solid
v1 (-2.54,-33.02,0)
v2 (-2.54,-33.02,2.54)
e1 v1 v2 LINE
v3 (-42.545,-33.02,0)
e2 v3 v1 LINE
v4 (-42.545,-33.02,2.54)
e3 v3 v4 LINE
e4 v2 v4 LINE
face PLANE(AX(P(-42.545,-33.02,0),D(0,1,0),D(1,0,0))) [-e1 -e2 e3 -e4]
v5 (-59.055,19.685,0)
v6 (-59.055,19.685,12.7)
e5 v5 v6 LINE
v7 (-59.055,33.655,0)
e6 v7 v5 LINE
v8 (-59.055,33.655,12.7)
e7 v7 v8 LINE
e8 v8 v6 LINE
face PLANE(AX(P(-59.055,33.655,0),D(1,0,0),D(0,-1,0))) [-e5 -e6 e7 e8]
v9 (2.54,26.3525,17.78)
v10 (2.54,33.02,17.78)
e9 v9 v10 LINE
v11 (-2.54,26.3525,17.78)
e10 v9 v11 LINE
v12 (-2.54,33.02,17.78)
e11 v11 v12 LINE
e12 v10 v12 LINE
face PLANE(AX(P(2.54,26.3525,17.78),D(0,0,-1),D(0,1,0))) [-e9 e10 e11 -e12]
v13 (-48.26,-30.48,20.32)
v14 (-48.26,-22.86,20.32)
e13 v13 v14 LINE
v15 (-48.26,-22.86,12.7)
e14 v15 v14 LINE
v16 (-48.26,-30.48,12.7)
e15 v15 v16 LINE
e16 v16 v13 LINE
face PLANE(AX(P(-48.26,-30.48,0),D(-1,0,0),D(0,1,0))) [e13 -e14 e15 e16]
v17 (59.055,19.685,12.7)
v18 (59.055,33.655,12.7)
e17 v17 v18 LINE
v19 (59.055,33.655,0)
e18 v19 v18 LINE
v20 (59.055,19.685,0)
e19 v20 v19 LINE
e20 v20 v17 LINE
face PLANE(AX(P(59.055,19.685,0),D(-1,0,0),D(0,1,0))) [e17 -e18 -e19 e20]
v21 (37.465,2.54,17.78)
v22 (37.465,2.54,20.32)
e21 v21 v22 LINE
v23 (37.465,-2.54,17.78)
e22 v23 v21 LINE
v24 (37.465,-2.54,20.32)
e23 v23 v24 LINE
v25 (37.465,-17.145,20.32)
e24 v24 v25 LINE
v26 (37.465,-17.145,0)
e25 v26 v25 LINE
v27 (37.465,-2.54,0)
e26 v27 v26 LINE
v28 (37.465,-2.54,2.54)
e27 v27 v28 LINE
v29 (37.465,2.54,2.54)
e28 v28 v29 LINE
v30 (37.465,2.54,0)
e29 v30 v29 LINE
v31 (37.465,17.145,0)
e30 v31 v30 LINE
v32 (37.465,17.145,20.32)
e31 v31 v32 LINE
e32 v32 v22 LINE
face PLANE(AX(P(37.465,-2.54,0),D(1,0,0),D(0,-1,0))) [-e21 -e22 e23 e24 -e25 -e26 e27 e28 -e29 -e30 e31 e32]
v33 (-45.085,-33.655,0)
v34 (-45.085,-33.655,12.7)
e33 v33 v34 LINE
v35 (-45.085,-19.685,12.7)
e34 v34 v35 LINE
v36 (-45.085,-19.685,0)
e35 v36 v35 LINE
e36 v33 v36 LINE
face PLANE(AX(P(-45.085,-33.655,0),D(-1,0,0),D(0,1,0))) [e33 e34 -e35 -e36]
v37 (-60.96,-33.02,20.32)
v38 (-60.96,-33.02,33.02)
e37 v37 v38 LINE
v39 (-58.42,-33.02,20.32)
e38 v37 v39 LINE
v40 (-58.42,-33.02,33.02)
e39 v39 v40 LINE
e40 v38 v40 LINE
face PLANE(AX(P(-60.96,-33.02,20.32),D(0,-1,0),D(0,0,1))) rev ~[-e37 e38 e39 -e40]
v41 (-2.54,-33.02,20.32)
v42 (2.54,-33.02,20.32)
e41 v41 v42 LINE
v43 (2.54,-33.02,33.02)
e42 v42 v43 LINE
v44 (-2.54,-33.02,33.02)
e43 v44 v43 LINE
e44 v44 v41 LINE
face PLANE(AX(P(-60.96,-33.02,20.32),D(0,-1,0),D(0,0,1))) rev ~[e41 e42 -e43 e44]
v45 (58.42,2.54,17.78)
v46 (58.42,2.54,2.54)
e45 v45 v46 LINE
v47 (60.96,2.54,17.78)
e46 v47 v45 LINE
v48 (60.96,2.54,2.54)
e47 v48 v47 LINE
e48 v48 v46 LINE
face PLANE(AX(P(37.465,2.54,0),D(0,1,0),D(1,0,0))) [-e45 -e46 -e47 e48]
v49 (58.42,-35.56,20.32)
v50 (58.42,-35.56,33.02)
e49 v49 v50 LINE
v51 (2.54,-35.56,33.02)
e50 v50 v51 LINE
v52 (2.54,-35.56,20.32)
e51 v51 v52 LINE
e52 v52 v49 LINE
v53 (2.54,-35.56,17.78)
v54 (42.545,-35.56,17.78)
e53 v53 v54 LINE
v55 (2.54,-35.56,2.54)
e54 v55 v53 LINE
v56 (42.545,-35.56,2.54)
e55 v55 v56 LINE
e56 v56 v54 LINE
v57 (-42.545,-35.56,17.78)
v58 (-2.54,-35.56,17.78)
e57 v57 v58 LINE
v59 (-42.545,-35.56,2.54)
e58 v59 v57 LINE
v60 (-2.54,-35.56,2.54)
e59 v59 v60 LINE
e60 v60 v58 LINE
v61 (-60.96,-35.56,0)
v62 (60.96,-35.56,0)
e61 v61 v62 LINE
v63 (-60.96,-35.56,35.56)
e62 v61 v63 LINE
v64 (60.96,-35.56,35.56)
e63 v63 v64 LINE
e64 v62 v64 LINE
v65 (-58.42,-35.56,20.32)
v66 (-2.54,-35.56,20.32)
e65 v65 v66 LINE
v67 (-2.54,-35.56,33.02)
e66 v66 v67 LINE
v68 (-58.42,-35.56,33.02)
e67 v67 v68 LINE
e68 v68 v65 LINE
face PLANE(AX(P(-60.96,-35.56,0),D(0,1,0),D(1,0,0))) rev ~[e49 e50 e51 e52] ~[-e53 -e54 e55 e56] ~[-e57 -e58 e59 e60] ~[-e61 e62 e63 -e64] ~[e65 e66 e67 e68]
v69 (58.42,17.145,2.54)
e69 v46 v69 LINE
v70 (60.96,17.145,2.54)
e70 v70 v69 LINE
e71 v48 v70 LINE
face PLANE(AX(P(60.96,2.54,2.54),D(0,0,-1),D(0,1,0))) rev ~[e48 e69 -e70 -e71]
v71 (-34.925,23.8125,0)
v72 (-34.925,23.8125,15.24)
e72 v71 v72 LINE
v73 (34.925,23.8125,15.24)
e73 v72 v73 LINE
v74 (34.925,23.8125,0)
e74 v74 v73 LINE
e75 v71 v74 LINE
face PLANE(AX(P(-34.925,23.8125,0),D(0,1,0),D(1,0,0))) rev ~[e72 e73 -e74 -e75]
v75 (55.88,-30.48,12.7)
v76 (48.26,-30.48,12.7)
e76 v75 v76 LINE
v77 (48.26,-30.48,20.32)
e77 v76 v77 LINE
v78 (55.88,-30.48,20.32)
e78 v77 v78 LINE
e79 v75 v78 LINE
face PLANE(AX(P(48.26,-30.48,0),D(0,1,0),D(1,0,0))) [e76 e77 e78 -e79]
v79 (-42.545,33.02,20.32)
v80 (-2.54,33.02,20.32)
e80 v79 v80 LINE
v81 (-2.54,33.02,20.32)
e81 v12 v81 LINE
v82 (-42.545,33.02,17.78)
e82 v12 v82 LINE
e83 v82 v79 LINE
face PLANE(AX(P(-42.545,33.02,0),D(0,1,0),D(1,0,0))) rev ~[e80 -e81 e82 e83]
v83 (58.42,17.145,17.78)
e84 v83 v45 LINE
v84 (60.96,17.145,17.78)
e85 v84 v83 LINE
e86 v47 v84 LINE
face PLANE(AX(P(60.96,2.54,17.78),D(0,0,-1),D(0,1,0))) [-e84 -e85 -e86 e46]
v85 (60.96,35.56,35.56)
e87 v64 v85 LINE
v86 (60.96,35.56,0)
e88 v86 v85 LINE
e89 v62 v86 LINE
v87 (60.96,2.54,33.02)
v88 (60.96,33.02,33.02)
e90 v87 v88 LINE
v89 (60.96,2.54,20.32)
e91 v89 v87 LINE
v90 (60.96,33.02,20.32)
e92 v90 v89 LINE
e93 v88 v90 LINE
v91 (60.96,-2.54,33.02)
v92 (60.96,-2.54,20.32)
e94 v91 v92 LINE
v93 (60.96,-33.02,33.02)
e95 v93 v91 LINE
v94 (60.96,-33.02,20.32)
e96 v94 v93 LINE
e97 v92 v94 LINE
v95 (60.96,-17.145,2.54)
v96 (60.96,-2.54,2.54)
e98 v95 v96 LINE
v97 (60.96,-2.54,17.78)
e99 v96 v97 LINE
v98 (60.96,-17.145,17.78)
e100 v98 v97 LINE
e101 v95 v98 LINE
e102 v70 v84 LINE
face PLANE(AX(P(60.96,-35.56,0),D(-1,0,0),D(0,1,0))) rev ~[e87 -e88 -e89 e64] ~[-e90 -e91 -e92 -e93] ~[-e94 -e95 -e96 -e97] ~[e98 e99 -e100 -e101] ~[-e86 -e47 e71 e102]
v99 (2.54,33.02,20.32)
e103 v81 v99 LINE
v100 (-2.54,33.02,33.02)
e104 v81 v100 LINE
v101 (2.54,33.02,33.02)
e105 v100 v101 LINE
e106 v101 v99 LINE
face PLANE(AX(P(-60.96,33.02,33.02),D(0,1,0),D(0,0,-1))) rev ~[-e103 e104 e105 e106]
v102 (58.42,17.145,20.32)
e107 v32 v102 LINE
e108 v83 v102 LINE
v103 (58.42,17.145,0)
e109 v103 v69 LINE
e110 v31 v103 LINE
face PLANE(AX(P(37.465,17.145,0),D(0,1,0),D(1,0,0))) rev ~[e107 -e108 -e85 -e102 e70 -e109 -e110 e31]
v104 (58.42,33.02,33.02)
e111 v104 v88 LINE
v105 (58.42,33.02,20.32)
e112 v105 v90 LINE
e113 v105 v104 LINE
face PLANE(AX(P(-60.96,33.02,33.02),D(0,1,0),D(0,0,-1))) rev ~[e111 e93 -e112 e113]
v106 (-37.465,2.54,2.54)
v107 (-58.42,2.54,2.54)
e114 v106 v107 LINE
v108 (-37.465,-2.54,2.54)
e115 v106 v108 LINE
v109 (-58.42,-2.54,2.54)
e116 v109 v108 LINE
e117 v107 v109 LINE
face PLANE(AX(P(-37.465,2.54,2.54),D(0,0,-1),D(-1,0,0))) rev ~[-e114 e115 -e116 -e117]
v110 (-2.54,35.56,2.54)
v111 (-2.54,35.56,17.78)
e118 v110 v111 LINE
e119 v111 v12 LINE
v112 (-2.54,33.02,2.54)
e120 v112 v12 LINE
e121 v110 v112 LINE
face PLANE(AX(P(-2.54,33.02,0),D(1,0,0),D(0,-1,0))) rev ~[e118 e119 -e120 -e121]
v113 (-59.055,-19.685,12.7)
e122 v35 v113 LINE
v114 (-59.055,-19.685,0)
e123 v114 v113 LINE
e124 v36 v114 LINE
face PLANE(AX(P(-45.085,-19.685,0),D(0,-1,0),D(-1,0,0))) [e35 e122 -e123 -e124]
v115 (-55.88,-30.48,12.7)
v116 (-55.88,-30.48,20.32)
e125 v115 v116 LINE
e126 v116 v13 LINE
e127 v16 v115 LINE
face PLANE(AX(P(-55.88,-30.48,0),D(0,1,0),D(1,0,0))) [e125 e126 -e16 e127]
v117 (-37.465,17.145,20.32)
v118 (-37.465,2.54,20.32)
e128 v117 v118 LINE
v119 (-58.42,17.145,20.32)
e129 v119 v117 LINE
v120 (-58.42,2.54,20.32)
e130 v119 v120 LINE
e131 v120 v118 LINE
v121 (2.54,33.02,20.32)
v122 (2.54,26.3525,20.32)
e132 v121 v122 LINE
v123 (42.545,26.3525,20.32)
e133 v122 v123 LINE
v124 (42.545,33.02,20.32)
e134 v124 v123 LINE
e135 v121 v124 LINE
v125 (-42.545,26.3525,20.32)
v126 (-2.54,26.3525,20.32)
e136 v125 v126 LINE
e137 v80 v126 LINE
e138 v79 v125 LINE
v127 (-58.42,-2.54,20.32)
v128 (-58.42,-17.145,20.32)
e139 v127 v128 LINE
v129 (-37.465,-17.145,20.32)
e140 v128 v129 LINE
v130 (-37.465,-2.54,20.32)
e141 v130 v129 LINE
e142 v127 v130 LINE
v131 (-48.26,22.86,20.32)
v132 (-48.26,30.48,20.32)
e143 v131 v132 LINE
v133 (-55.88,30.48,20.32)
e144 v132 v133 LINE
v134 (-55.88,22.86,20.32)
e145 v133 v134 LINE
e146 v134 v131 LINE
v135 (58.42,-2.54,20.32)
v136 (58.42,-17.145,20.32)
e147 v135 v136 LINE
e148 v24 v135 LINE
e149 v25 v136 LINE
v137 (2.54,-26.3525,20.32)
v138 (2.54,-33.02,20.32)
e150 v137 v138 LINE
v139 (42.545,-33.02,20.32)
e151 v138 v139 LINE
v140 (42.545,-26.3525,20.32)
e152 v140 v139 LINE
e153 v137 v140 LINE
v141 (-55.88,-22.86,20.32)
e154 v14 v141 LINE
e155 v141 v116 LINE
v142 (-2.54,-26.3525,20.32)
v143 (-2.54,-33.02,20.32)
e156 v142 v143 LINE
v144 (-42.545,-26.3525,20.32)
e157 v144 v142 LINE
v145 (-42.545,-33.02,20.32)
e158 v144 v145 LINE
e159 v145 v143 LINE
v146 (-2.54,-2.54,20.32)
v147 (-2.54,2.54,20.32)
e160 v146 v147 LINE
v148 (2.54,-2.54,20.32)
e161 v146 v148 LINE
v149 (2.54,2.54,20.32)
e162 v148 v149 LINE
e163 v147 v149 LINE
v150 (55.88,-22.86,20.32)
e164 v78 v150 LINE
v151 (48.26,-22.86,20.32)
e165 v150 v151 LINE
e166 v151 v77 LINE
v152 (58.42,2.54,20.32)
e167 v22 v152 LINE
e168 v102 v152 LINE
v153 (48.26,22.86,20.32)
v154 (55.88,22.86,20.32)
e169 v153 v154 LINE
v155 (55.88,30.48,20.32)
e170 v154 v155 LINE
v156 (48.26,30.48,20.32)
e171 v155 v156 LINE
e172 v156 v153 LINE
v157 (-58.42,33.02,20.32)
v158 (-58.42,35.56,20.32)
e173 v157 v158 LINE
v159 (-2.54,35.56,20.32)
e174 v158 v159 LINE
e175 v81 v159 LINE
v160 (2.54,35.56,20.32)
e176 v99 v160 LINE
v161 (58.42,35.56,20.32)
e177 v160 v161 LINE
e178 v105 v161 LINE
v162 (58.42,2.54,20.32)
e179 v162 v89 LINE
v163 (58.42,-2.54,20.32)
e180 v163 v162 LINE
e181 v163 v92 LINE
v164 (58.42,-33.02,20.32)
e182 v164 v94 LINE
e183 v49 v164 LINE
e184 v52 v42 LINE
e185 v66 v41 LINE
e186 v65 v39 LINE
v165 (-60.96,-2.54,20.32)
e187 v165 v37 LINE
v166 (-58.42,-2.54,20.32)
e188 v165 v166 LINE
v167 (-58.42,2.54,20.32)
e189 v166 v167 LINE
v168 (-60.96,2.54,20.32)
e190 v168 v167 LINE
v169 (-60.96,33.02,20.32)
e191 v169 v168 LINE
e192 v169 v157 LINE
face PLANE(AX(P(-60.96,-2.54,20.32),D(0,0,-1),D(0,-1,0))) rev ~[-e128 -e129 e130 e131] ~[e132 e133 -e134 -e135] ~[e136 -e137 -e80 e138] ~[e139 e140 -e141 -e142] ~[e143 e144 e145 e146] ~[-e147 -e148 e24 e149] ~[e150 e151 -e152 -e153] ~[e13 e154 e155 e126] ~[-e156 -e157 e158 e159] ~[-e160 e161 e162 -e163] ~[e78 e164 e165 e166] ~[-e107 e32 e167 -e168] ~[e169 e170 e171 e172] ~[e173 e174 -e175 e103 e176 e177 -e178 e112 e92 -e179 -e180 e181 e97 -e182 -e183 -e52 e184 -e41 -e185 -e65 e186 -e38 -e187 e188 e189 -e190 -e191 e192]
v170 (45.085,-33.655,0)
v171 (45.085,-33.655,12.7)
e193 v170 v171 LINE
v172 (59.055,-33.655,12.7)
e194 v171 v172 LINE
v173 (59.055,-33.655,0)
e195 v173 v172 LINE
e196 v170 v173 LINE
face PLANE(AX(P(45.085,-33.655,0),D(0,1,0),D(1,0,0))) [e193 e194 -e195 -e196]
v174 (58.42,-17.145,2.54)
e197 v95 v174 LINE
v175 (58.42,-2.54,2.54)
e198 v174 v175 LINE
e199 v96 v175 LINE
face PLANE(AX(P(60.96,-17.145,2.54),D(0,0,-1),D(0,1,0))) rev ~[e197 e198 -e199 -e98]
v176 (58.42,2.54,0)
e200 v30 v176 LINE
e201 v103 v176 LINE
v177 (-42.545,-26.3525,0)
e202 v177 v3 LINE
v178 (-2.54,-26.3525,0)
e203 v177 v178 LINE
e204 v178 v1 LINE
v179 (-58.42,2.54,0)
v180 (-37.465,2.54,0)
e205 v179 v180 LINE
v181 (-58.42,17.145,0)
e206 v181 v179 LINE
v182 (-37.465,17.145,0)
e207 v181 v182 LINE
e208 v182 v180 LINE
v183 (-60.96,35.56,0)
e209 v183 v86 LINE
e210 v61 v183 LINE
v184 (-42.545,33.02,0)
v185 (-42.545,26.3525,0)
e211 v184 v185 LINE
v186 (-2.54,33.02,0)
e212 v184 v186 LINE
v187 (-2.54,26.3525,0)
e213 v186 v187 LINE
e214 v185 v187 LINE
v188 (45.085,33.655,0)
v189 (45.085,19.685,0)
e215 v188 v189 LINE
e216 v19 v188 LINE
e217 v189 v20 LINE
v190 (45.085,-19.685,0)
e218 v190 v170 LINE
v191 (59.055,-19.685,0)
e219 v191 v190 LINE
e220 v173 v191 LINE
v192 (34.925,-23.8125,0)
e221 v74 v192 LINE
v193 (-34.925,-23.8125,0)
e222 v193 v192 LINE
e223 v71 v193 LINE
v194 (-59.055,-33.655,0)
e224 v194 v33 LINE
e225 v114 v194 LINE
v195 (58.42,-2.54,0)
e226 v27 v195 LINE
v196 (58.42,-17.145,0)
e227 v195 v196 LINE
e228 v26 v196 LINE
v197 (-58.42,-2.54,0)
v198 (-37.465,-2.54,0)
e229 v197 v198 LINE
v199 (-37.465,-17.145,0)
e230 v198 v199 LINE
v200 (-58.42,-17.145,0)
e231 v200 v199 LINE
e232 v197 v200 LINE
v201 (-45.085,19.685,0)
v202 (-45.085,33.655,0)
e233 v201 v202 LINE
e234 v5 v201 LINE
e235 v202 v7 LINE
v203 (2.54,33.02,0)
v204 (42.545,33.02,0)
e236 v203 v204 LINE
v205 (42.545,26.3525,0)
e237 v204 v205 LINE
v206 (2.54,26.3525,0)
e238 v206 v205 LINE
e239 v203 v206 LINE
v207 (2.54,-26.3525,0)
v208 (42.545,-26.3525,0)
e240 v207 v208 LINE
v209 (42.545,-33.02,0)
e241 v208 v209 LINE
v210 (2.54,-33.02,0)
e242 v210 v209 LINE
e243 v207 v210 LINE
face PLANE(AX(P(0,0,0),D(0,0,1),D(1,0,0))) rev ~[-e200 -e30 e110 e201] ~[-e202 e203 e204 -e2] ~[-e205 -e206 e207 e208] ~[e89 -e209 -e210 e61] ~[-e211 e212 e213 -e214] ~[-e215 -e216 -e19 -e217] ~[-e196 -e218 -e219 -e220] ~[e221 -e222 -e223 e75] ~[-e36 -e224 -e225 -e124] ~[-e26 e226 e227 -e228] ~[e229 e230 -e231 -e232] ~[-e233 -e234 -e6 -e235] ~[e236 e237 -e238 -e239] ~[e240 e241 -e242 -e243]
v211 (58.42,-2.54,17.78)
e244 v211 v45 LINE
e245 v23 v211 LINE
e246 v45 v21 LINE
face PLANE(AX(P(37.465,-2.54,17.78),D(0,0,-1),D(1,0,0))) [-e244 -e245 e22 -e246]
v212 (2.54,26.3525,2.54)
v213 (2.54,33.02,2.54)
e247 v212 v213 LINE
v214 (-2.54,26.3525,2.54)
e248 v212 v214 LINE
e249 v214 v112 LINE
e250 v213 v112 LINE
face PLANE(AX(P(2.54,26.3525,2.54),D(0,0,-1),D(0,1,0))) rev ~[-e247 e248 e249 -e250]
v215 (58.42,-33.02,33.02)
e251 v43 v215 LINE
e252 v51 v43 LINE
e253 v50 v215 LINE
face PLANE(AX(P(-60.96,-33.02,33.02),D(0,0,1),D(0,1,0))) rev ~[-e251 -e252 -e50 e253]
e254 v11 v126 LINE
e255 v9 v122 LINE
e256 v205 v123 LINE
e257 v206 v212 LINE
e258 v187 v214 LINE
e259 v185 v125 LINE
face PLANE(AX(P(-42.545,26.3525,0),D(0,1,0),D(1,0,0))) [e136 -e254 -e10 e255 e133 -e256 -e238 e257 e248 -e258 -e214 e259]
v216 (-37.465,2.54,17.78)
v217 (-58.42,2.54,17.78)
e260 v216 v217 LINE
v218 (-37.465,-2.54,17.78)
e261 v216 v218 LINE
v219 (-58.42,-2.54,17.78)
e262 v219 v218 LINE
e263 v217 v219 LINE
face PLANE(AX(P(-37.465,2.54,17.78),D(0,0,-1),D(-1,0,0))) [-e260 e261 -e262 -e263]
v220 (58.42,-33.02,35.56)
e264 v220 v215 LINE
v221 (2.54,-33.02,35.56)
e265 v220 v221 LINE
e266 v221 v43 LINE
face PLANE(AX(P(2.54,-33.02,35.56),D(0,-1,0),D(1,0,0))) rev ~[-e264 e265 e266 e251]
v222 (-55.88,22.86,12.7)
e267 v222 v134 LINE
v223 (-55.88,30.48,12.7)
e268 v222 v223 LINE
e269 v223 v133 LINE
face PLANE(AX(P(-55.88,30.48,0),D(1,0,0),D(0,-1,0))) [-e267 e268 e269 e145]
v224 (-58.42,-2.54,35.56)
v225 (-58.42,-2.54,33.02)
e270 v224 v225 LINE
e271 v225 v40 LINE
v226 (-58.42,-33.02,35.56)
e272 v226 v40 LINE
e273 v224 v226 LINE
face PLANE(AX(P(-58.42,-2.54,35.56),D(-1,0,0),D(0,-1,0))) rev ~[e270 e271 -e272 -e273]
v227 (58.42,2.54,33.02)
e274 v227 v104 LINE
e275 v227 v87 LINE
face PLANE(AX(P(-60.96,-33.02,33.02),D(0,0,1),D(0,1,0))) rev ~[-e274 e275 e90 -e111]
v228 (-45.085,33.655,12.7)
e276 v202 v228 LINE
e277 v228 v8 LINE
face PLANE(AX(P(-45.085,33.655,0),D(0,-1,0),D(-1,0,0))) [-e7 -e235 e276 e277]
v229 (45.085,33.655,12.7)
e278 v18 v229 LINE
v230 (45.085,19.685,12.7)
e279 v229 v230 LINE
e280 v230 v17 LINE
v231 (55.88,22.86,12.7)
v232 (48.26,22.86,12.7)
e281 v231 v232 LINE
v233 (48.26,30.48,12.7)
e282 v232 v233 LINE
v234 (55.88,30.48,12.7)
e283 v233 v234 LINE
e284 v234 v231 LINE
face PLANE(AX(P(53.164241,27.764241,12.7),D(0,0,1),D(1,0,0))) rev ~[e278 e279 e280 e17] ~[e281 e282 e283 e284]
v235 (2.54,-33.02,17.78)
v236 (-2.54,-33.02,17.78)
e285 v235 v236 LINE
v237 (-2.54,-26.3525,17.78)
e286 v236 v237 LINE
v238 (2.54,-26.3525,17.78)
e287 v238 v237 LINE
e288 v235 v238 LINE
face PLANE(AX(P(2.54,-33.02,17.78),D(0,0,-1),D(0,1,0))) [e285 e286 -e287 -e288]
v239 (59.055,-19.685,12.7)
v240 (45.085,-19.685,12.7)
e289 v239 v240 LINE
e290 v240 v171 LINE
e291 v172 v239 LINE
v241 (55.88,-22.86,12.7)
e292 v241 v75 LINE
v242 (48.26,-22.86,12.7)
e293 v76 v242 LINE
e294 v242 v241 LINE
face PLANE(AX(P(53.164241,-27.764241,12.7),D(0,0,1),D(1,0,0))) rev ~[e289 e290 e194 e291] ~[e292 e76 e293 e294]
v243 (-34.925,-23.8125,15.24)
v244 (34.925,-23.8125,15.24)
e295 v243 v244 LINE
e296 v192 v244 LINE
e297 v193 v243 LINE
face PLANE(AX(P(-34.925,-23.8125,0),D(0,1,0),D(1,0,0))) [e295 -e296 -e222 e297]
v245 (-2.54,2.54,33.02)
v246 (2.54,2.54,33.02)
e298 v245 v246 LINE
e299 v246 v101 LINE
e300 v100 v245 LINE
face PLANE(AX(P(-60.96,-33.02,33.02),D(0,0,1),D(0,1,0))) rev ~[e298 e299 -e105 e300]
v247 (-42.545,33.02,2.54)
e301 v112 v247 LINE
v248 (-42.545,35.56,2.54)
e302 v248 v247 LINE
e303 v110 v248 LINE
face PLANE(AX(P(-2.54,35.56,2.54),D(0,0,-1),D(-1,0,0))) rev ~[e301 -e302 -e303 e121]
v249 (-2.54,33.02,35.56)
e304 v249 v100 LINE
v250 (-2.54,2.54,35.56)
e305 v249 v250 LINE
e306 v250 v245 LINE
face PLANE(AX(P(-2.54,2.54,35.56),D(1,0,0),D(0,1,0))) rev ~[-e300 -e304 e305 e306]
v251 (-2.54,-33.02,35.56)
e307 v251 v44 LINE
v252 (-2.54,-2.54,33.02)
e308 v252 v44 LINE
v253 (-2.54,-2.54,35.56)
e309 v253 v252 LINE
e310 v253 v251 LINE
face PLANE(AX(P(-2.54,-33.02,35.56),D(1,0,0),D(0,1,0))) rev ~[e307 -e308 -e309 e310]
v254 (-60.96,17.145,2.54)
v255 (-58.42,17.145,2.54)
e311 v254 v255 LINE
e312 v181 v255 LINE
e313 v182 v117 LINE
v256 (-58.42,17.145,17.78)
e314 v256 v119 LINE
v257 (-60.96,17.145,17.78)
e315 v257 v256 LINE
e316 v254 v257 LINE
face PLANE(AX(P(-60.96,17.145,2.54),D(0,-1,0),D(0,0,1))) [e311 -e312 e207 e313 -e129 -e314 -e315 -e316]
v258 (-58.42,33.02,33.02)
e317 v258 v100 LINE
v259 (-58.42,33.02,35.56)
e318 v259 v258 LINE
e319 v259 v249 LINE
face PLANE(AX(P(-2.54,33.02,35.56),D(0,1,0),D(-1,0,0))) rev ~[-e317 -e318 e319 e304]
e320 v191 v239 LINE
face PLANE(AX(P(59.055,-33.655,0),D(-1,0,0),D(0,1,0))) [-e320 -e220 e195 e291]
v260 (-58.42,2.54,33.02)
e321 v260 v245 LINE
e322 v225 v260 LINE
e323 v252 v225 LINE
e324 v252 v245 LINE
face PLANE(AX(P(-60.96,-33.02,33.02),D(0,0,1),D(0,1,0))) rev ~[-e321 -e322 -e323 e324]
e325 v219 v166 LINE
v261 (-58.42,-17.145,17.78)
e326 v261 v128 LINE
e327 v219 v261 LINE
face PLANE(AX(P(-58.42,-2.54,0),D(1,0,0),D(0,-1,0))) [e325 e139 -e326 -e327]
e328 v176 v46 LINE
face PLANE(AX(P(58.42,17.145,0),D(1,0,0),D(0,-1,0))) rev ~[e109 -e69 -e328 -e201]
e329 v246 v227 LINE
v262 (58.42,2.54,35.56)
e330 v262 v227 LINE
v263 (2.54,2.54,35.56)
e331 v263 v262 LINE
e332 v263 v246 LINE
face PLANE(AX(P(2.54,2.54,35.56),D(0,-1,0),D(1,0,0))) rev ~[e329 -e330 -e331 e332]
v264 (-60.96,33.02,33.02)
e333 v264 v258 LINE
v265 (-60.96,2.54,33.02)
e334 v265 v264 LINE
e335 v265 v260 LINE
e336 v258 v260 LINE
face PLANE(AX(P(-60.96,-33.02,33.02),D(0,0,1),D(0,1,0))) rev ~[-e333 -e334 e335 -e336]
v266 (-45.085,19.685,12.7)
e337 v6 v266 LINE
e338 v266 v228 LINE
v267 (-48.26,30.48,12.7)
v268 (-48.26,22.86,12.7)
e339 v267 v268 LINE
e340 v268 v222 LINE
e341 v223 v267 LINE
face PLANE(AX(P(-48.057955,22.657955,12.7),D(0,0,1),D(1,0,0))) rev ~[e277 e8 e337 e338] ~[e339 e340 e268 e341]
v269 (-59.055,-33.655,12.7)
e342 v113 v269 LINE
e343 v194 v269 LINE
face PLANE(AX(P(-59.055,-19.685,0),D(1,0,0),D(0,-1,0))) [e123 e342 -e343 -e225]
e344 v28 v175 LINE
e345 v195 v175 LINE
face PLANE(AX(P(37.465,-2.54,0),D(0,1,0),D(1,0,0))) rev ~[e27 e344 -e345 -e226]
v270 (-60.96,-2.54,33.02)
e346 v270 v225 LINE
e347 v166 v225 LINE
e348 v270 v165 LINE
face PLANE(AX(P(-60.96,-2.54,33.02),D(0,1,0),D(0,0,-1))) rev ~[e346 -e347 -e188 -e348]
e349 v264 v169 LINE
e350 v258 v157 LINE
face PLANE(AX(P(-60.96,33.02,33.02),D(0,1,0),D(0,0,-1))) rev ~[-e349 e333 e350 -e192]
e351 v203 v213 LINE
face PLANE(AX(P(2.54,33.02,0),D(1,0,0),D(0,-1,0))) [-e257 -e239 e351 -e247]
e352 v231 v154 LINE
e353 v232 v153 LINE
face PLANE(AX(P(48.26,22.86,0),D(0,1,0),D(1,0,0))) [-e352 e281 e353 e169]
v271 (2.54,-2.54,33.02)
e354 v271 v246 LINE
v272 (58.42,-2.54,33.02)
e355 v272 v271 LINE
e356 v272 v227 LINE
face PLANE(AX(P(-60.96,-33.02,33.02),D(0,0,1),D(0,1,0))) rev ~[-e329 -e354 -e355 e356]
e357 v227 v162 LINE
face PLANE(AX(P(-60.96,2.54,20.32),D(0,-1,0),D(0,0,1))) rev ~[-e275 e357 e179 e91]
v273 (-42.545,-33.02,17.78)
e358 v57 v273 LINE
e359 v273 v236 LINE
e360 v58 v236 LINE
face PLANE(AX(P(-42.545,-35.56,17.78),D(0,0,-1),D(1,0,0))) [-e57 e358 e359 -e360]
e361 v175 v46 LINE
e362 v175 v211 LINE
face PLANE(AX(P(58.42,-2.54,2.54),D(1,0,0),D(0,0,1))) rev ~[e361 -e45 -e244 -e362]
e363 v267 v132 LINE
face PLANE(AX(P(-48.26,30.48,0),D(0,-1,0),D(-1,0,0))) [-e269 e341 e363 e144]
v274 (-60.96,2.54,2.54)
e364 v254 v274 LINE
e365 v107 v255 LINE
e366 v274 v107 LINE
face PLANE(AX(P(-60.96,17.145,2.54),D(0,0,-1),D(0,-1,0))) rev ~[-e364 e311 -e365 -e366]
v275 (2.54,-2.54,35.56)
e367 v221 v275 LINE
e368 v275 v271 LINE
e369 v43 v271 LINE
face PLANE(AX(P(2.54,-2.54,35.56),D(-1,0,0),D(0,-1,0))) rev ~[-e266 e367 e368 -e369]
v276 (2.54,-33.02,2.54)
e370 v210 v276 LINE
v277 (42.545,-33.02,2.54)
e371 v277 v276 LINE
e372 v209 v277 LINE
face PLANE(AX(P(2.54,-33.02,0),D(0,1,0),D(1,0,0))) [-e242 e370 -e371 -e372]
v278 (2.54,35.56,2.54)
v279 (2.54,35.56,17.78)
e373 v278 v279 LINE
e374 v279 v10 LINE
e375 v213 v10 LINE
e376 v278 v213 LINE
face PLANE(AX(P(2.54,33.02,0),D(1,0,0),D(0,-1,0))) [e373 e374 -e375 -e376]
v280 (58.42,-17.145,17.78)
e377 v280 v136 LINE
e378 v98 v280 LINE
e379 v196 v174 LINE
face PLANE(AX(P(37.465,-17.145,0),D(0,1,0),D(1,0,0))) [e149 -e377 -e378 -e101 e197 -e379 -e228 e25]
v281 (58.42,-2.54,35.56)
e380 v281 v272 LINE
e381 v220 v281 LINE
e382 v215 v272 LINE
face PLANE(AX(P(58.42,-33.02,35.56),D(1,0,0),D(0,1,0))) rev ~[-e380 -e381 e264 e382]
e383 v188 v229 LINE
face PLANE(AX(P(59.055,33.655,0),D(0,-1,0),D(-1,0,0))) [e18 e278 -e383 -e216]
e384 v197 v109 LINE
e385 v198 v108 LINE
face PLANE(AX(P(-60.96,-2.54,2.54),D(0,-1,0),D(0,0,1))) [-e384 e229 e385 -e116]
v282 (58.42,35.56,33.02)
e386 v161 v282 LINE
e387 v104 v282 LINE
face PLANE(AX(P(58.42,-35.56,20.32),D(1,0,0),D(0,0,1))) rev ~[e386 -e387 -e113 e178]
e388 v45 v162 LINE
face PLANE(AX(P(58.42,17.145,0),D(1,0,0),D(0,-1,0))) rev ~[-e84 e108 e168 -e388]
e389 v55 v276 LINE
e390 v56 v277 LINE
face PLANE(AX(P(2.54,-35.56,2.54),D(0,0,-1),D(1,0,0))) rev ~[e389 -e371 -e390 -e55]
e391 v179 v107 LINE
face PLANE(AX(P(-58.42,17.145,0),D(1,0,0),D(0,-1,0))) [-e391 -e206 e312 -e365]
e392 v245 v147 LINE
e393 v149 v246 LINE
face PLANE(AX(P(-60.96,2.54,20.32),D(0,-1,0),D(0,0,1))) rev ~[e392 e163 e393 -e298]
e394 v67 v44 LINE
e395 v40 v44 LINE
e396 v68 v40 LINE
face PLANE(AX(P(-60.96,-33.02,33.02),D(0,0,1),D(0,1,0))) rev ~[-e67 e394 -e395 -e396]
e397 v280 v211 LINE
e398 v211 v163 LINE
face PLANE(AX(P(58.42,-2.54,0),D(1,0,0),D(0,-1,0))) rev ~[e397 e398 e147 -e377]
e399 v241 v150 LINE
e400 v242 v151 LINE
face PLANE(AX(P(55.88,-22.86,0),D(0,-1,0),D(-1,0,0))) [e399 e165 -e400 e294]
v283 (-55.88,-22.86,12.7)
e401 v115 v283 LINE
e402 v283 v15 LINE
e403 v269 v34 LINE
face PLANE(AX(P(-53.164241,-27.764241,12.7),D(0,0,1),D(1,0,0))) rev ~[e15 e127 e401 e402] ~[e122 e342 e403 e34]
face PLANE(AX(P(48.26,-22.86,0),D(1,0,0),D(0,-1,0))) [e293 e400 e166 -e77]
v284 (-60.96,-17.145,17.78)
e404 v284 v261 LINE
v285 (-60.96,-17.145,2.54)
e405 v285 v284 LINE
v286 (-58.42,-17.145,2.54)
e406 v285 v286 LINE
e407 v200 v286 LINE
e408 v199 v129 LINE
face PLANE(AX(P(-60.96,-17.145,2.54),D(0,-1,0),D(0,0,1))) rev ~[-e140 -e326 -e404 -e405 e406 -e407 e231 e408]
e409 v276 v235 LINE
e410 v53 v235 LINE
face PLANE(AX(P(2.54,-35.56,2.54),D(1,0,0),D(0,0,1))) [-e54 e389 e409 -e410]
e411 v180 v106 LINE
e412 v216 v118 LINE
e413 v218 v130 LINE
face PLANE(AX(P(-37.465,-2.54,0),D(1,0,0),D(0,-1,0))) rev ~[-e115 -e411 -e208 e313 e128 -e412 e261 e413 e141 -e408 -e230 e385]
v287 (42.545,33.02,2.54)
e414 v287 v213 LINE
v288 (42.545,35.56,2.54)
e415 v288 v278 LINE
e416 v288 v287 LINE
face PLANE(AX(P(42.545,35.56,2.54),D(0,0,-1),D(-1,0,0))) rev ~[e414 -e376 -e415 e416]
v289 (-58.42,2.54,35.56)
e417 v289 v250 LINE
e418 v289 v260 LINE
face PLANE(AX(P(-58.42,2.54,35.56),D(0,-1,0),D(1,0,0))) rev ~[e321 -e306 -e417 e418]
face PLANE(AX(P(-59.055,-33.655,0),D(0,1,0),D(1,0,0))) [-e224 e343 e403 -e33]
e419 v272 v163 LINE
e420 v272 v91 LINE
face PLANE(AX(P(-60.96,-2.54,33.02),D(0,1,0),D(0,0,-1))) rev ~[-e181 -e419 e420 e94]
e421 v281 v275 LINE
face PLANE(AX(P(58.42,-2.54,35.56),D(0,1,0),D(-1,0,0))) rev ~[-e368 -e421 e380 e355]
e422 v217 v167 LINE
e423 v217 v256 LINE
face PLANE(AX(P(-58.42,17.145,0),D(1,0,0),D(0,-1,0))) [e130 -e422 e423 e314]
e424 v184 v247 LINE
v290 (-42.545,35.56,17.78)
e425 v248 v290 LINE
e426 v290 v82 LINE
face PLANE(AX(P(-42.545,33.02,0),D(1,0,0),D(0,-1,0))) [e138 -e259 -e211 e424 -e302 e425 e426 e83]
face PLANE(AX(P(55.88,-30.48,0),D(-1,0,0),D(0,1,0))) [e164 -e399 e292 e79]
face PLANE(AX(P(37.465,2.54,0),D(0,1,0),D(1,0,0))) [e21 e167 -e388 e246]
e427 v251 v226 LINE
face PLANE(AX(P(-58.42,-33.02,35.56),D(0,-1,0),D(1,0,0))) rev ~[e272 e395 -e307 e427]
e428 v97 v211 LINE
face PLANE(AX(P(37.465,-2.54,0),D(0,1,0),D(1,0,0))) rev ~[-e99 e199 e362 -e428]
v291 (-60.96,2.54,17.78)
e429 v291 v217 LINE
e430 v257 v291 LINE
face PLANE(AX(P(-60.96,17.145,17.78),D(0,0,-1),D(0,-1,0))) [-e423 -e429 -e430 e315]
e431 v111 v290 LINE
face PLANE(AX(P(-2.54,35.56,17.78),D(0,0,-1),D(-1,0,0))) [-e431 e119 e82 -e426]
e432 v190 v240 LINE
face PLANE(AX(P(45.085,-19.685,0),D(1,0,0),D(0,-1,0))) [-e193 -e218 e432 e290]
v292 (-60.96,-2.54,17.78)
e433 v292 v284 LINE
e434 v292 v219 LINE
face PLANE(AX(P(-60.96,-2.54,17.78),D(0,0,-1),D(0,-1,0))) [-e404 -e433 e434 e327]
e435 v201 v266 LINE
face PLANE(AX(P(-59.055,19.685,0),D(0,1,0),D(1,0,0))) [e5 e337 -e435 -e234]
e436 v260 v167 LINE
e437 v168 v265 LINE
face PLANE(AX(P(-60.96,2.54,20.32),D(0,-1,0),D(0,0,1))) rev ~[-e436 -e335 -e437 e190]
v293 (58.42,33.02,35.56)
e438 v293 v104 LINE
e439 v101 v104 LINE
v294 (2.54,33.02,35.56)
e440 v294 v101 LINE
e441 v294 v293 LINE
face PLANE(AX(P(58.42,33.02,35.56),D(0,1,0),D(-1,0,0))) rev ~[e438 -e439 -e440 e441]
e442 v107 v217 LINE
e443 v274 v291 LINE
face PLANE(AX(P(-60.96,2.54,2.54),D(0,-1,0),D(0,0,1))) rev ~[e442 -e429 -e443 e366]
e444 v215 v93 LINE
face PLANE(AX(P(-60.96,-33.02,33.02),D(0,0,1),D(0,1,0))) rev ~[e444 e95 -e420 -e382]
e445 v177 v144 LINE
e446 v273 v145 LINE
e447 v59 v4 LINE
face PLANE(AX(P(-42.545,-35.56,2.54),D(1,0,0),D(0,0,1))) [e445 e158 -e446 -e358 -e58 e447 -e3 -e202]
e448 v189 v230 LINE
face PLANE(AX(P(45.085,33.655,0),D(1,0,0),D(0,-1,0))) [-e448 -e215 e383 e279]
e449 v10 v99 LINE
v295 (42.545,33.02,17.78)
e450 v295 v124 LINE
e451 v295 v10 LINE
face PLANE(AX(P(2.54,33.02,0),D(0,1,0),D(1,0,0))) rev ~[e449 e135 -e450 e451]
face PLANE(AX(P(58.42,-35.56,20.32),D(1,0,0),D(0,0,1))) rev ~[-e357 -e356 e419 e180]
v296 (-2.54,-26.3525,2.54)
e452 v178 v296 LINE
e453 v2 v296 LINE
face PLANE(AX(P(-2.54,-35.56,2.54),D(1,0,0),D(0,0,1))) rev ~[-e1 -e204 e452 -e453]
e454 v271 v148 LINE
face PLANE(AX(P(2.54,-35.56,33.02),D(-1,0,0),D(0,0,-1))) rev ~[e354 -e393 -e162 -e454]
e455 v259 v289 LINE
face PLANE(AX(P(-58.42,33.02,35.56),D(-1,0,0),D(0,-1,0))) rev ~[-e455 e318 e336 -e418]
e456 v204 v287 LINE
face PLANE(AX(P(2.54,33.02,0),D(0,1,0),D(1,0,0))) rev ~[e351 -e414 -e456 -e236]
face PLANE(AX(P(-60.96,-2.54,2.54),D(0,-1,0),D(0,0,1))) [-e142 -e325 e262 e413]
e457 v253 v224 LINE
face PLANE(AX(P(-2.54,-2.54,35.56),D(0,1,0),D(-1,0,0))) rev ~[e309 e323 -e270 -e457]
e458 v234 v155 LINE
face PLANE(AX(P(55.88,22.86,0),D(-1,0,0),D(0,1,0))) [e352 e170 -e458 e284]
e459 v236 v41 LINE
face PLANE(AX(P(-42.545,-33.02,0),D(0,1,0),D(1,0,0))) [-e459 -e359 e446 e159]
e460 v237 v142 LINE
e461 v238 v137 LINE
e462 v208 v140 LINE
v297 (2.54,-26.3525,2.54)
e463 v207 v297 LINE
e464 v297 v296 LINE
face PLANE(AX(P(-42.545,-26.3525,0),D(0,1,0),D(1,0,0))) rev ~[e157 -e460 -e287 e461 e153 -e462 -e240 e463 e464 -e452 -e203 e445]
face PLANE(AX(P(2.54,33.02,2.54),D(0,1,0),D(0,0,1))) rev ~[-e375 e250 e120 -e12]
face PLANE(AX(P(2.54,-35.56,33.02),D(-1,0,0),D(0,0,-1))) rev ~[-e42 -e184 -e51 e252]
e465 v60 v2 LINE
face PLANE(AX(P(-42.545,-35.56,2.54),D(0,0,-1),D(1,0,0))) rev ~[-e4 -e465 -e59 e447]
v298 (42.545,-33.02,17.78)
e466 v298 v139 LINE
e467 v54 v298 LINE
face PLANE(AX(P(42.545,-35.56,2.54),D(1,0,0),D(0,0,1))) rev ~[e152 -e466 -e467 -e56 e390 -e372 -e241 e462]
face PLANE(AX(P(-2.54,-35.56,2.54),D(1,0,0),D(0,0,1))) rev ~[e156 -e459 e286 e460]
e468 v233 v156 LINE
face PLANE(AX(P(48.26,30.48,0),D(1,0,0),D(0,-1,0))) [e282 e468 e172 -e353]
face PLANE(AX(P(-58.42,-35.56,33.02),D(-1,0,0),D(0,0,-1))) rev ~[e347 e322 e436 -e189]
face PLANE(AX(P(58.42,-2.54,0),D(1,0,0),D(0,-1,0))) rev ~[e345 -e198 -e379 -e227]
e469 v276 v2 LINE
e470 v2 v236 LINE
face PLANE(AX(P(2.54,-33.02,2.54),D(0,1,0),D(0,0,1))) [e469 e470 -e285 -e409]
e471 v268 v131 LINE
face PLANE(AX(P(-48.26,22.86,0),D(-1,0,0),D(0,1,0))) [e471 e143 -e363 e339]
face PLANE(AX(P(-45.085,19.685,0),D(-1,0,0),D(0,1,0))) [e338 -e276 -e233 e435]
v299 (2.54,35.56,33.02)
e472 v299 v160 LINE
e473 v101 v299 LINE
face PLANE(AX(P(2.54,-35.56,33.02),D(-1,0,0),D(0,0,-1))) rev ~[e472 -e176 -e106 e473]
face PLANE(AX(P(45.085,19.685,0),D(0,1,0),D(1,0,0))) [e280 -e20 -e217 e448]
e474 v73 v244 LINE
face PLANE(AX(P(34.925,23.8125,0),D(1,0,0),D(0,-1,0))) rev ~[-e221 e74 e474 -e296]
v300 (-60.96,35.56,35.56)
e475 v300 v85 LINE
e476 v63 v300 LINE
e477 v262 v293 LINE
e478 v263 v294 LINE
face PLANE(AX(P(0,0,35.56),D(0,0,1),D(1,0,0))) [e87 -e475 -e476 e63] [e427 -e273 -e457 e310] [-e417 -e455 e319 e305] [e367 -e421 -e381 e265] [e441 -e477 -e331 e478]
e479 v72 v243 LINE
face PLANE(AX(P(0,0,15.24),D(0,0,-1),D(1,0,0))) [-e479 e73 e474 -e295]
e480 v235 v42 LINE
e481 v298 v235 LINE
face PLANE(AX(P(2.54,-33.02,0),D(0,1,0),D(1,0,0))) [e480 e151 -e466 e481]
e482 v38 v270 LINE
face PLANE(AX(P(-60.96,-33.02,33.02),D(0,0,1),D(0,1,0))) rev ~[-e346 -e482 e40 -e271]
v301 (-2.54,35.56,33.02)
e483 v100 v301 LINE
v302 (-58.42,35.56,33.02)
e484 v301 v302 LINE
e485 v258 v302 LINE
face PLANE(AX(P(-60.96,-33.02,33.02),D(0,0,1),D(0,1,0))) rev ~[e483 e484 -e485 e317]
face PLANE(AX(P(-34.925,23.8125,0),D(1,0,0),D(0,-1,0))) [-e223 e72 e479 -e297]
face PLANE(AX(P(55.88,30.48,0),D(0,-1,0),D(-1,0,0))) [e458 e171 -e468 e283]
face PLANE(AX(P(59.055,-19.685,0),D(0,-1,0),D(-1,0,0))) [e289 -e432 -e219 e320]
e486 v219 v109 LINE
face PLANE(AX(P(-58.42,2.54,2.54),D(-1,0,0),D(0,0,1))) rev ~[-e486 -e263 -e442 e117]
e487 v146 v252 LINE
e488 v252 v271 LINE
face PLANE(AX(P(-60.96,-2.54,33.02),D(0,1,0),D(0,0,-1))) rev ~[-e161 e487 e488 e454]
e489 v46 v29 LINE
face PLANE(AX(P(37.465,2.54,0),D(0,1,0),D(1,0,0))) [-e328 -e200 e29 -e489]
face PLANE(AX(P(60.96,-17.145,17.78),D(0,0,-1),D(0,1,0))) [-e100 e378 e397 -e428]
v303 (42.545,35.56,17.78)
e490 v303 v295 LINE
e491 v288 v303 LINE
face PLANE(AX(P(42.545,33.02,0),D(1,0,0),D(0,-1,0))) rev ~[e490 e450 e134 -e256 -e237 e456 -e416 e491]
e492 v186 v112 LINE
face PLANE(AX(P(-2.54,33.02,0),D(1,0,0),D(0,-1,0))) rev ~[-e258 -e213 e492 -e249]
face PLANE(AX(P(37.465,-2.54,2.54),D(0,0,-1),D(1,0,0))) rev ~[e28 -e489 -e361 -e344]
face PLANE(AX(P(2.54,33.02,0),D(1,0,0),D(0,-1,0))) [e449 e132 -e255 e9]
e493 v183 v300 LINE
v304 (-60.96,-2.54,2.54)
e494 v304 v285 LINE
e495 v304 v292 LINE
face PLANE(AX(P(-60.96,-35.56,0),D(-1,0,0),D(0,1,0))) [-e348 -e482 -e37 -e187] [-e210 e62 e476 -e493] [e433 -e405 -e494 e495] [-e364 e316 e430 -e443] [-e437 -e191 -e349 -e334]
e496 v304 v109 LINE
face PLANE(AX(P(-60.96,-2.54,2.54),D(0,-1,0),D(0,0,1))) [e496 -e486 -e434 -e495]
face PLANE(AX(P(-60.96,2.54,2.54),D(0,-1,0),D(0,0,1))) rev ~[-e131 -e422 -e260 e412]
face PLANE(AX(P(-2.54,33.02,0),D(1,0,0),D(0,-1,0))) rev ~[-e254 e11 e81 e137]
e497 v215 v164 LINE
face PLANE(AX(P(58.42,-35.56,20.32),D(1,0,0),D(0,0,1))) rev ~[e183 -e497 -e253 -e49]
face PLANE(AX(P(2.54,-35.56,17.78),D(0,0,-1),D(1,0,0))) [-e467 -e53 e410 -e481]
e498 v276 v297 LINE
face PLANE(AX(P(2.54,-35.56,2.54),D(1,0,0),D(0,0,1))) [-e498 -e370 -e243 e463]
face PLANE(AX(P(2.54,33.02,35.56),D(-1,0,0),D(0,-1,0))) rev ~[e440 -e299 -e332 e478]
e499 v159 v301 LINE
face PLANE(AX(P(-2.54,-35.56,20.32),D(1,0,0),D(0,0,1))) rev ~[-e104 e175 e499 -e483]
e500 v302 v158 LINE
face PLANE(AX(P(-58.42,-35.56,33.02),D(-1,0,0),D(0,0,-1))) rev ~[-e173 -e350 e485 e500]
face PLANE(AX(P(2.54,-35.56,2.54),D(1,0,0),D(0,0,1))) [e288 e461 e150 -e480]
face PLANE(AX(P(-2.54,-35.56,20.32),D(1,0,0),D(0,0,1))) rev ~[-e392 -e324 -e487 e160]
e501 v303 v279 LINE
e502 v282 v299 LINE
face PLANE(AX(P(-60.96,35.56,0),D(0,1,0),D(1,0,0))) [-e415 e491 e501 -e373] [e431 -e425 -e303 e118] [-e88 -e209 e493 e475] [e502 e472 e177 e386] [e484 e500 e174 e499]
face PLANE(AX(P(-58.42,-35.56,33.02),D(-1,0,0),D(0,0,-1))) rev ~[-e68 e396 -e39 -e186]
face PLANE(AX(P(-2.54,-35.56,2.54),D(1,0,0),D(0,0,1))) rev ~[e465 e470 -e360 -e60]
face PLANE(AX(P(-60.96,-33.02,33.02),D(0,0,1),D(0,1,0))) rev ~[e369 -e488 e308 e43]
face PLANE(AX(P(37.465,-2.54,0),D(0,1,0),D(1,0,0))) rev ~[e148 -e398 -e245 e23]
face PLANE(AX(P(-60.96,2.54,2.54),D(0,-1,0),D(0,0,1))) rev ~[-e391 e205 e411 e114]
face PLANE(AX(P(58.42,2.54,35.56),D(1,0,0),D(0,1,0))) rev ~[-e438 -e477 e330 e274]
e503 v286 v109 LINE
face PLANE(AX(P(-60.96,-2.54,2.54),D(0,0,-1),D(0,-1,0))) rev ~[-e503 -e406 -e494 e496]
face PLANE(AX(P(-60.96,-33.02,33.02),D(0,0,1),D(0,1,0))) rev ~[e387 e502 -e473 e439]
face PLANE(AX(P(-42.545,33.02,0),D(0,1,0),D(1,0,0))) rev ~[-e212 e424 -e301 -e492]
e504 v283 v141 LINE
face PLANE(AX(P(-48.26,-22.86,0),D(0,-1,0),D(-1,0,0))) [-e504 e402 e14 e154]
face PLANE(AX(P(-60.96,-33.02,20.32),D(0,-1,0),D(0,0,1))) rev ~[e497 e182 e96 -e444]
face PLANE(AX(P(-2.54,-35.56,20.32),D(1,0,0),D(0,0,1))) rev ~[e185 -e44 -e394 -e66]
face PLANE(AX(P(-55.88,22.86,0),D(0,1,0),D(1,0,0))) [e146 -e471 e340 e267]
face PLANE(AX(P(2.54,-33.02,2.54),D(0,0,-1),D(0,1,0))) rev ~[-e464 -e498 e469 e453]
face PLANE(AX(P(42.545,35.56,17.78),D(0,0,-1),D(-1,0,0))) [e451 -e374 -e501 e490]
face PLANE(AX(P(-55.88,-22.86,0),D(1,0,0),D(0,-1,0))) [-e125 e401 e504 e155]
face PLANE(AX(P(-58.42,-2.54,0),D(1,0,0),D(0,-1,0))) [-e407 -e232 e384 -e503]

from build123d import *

# Parameters (mm, degrees)
F0_W      = 121.92
F0_H      = 71.12
F1_DEPTH  = 35.56
F2_W      = 3.81
F2_H      = 3.81
F3_DEPTH  = 12.7
F4_W      = 69.85
F4_H      = 47.625
F5_DEPTH  = 15.24
F6_W      = 27.94
F6_H      = 6.35
F7_DEPTH  = 71.12
F8_W      = 15.24
F8_H      = 6.35
F9_DEPTH  = 121.92
F10_W     = 27.94
F10_H     = 15.24
F11_DEPTH = 15.24
F12_DEPTH = 35.561
F13_W     = 40.005
F13_H     = 6.6675
F14_DEPTH = 35.561
F15_W     = 40.005
F15_H     = 15.24
F16_DEPTH = 4.2690588161
F17_W     = 40.005
F17_H     = 15.24
F18_DEPTH = 4.0254006162
F19_W     = 20.955
F19_H     = 14.605
F20_DEPTH = 25.4
F21_W     = 14.605
F21_H     = 15.24
F22_DEPTH = 17.6893454045
F23_W     = 14.605
F23_H     = 15.24
F24_DEPTH = 16.1260850728
F25_W     = 20.955
F25_H     = 15.24
F26_DEPTH = 12.7
F27_W     = 6.6675
F27_H     = 15.24
F28_DEPTH = 25.4
F29_W     = 6.6675
F29_H     = 15.24
F30_DEPTH = 25.4
F31_W     = 20.955
F31_H     = 15.24
F32_DEPTH = 12.7


with BuildPart() as f1:
    # F0 (on Top) → F1 (new body)
    with BuildSketch(Plane.XY):
        Rectangle(F0_W, F0_H)
    extrude(amount=F1_DEPTH)

    # F2 (on Top) → F3 (cut)
    with BuildSketch(Plane.XY):
        Polygon((59.055, -19.685), (52.07, -19.685), (52.07, -22.86), (55.88, -22.86), (55.88, -30.48), (48.26, -30.48), (48.26, -26.67), (45.085, -26.67), (45.085, -33.655), (59.055, -33.655), align=None)
        Polygon((52.07, -22.86), (52.07, -19.685), (45.085, -19.685), (45.085, -26.67), (48.26, -26.67), (48.26, -22.86), align=None)
        with Locations((50.165, -24.765)):
            Rectangle(F2_W, F2_H)
        Polygon((55.88, -22.86), (52.07, -22.86), (52.07, -26.67), (48.26, -26.67), (48.26, -30.48), (55.88, -30.48), align=None)
        Polygon((45.085, 33.655), (45.085, 26.67), (48.26, 26.67), (48.26, 30.48), (55.88, 30.48), (55.88, 22.86), (52.07, 22.86), (52.07, 19.685), (59.055, 19.685), (59.055, 33.655), align=None)
        Polygon((48.26, 26.67), (45.085, 26.67), (45.085, 19.685), (52.07, 19.685), (52.07, 22.86), (48.26, 22.86), align=None)
        Polygon((48.26, 30.48), (48.26, 26.67), (52.07, 26.67), (52.07, 22.86), (55.88, 22.86), (55.88, 30.48), align=None)
        with Locations((50.165, 24.765)):
            Rectangle(F2_W, F2_H)
        Polygon((-45.085, 26.67), (-48.26, 26.67), (-48.26, 22.86), (-52.07, 22.86), (-52.07, 19.685), (-45.085, 19.685), align=None)
        Polygon((-52.07, 22.86), (-52.07, 26.67), (-48.26, 26.67), (-48.26, 30.48), (-55.88, 30.48), (-55.88, 22.86), align=None)
        Polygon((-48.26, 30.48), (-48.26, 26.67), (-45.085, 26.67), (-45.085, 33.655), (-59.055, 33.655), (-59.055, 19.685), (-52.07, 19.685), (-52.07, 22.86), (-55.88, 22.86), (-55.88, 30.48), align=None)
        with Locations((-50.165, 24.765)):
            Rectangle(F2_W, F2_H)
        Polygon((-52.07, -22.86), (-52.07, -19.685), (-59.055, -19.685), (-59.055, -33.655), (-45.085, -33.655), (-45.085, -26.67), (-48.26, -26.67), (-48.26, -30.48), (-55.88, -30.48), (-55.88, -22.86), align=None)
        Polygon((-52.07, -26.67), (-52.07, -22.86), (-55.88, -22.86), (-55.88, -30.48), (-48.26, -30.48), (-48.26, -26.67), align=None)
        with Locations((-50.165, -24.765)):
            Rectangle(F2_W, F2_H)
        Polygon((-45.085, -19.685), (-52.07, -19.685), (-52.07, -22.86), (-48.26, -22.86), (-48.26, -26.67), (-45.085, -26.67), align=None)
    extrude(amount=F3_DEPTH, mode=Mode.SUBTRACT)

    # F4 (on face) → F5 (cut)
    with BuildSketch(Plane(origin=(0, 0, 0), x_dir=(1, 0, 0), z_dir=(0, 0, -1))):
        Rectangle(F4_W, F4_H)
    extrude(amount=-F5_DEPTH, mode=Mode.SUBTRACT)

    # F6 (on face) → F7 (cut, through all)
    with BuildSketch(Plane.XZ.offset(35.56)):
        with Locations((-44.45, 29.845)):
            Rectangle(F6_W, F6_H)
        with Locations((-16.51, 29.845)):
            Rectangle(F6_W, F6_H)
        with Locations((-16.51, 23.495)):
            Rectangle(F6_W, F6_H)
        with Locations((-44.45, 23.495)):
            Rectangle(F6_W, F6_H)
        with Locations((16.51, 29.845)):
            Rectangle(F6_W, F6_H)
        with Locations((16.51, 23.495)):
            Rectangle(F6_W, F6_H)
        with Locations((44.45, 29.845)):
            Rectangle(F6_W, F6_H)
        with Locations((44.45, 23.495)):
            Rectangle(F6_W, F6_H)
    extrude(amount=-F7_DEPTH, mode=Mode.SUBTRACT)

    # F8 (on face) → F9 (cut, through all)
    with BuildSketch(Plane(origin=(-60.96, 0, 0), x_dir=(0, -1, 0), z_dir=(-1, 0, 0))):
        with Locations((-25.4, 29.845)):
            Rectangle(F8_W, F8_H)
        with Locations((-10.16, 29.845)):
            Rectangle(F8_W, F8_H)
        with Locations((-10.16, 23.495)):
            Rectangle(F8_W, F8_H)
        with Locations((-25.4, 23.495)):
            Rectangle(F8_W, F8_H)
        with Locations((10.16, 23.495)):
            Rectangle(F8_W, F8_H)
        with Locations((10.16, 29.845)):
            Rectangle(F8_W, F8_H)
        with Locations((25.4, 29.845)):
            Rectangle(F8_W, F8_H)
        with Locations((25.4, 23.495)):
            Rectangle(F8_W, F8_H)
    extrude(amount=-F9_DEPTH, mode=Mode.SUBTRACT)

    # F10 (on face) → F11 (cut, through all)
    with BuildSketch(Plane.XY.offset(35.56)):
        with Locations((-44.45, 25.4)):
            Rectangle(F10_W, F10_H)
        with Locations((-16.51, 25.4)):
            Rectangle(F10_W, F10_H)
        with Locations((-16.51, 10.16)):
            Rectangle(F10_W, F10_H)
        with Locations((-44.45, 10.16)):
            Rectangle(F10_W, F10_H)
        with Locations((16.51, 25.4)):
            Rectangle(F10_W, F10_H)
        with Locations((16.51, 10.16)):
            Rectangle(F10_W, F10_H)
        with Locations((44.45, 25.4)):
            Rectangle(F10_W, F10_H)
        with Locations((44.45, 10.16)):
            Rectangle(F10_W, F10_H)
        with Locations((-44.45, -10.16)):
            Rectangle(F10_W, F10_H)
        with Locations((-16.51, -10.16)):
            Rectangle(F10_W, F10_H)
        with Locations((-16.51, -25.4)):
            Rectangle(F10_W, F10_H)
        with Locations((-44.45, -25.4)):
            Rectangle(F10_W, F10_H)
        with Locations((16.51, -25.4)):
            Rectangle(F10_W, F10_H)
        with Locations((16.51, -10.16)):
            Rectangle(F10_W, F10_H)
        with Locations((44.45, -25.4)):
            Rectangle(F10_W, F10_H)
        with Locations((44.45, -10.16)):
            Rectangle(F10_W, F10_H)
    extrude(amount=-F11_DEPTH, mode=Mode.SUBTRACT)

    # F2 (on Top) → F12 (cut, through all)
    with BuildSketch(Plane.XY):
        with Locations((50.165, -24.765)):
            Rectangle(F2_W, F2_H)
        Polygon((55.88, -22.86), (52.07, -22.86), (52.07, -26.67), (48.26, -26.67), (48.26, -30.48), (55.88, -30.48), align=None)
        with Locations((50.165, 24.765)):
            Rectangle(F2_W, F2_H)
        Polygon((48.26, 30.48), (48.26, 26.67), (52.07, 26.67), (52.07, 22.86), (55.88, 22.86), (55.88, 30.48), align=None)
        Polygon((-52.07, 22.86), (-52.07, 26.67), (-48.26, 26.67), (-48.26, 30.48), (-55.88, 30.48), (-55.88, 22.86), align=None)
        with Locations((-50.165, 24.765)):
            Rectangle(F2_W, F2_H)
        Polygon((-52.07, -26.67), (-52.07, -22.86), (-55.88, -22.86), (-55.88, -30.48), (-48.26, -30.48), (-48.26, -26.67), align=None)
        with Locations((-50.165, -24.765)):
            Rectangle(F2_W, F2_H)
    extrude(amount=F12_DEPTH, mode=Mode.SUBTRACT)

    # F13 (on face) → F14 (cut, through all)
    with BuildSketch(Plane(origin=(0, 0, 0), x_dir=(1, 0, 0), z_dir=(0, 0, -1))):
        with Locations((22.5425, 29.68625)):
            Rectangle(F13_W, F13_H)
        with Locations((-22.5425, 29.68625)):
            Rectangle(F13_W, F13_H)
        with Locations((22.5425, -29.68625)):
            Rectangle(F13_W, F13_H)
        with Locations((-22.5425, -29.68625)):
            Rectangle(F13_W, F13_H)
    extrude(amount=-F14_DEPTH, mode=Mode.SUBTRACT)

    # F15 (on face) → F16 (cut)
    with BuildSketch(Plane.XZ.offset(35.56)):
        with Locations((22.5425, 10.16)):
            Rectangle(F15_W, F15_H)
        with Locations((-22.5425, 10.16)):
            Rectangle(F15_W, F15_H)
    extrude(amount=-F16_DEPTH, mode=Mode.SUBTRACT)

    # F17 (on face) → F18 (cut)
    with BuildSketch(Plane(origin=(0, 35.56, 0), x_dir=(-1, 0, 0), z_dir=(0, 1, 0))):
        with Locations((22.5425, 10.16)):
            Rectangle(F17_W, F17_H)
        with Locations((-22.5425, 10.16)):
            Rectangle(F17_W, F17_H)
    extrude(amount=-F18_DEPTH, mode=Mode.SUBTRACT)

    # F19 (on face) → F20 (cut)
    with BuildSketch(Plane(origin=(0, 0, 0), x_dir=(1, 0, 0), z_dir=(0, 0, -1))):
        with Locations((47.9425, 9.8425)):
            Rectangle(F19_W, F19_H)
        with Locations((-47.9425, -9.8425)):
            Rectangle(F19_W, F19_H)
        with Locations((47.9425, -9.8425)):
            Rectangle(F19_W, F19_H)
        with Locations((-47.9425, 9.8425)):
            Rectangle(F19_W, F19_H)
    extrude(amount=-F20_DEPTH, mode=Mode.SUBTRACT)

    # F21 (on face) → F22 (cut)
    with BuildSketch(Plane.YZ.offset(60.96)):
        with Locations((9.8425, 10.16)):
            Rectangle(F21_W, F21_H)
        with Locations((-9.8425, 10.16)):
            Rectangle(F21_W, F21_H)
    extrude(amount=-F22_DEPTH, mode=Mode.SUBTRACT)

    # F23 (on face) → F24 (cut)
    with BuildSketch(Plane(origin=(-60.96, 0, 0), x_dir=(0, -1, 0), z_dir=(-1, 0, 0))):
        with Locations((-9.8425, 10.16)):
            Rectangle(F23_W, F23_H)
        with Locations((9.8425, 10.16)):
            Rectangle(F23_W, F23_H)
    extrude(amount=-F24_DEPTH, mode=Mode.SUBTRACT)

    # F25 (on face) → F26 (cut)
    with BuildSketch(Plane.XZ.offset(2.54)):
        with Locations((47.9425, 10.16)):
            Rectangle(F25_W, F25_H)
    extrude(amount=-F26_DEPTH, mode=Mode.SUBTRACT)

    # F27 (on face) → F28 (cut)
    with BuildSketch(Plane.YZ.offset(2.54)):
        with Locations((-29.68625, 10.16)):
            Rectangle(F27_W, F27_H)
    extrude(amount=-F28_DEPTH, mode=Mode.SUBTRACT)

    # F29 (on face) → F30 (cut)
    with BuildSketch(Plane.YZ.offset(2.54)):
        with Locations((29.68625, 10.16)):
            Rectangle(F29_W, F29_H)
    extrude(amount=-F30_DEPTH, mode=Mode.SUBTRACT)

    # F31 (on face) → F32 (cut)
    with BuildSketch(Plane(origin=(0, 2.54, 0), x_dir=(-1, 0, 0), z_dir=(0, 1, 0))):
        with Locations((47.9425, 10.16)):
            Rectangle(F31_W, F31_H)
    extrude(amount=-F32_DEPTH, mode=Mode.SUBTRACT)


solid = f1.part
